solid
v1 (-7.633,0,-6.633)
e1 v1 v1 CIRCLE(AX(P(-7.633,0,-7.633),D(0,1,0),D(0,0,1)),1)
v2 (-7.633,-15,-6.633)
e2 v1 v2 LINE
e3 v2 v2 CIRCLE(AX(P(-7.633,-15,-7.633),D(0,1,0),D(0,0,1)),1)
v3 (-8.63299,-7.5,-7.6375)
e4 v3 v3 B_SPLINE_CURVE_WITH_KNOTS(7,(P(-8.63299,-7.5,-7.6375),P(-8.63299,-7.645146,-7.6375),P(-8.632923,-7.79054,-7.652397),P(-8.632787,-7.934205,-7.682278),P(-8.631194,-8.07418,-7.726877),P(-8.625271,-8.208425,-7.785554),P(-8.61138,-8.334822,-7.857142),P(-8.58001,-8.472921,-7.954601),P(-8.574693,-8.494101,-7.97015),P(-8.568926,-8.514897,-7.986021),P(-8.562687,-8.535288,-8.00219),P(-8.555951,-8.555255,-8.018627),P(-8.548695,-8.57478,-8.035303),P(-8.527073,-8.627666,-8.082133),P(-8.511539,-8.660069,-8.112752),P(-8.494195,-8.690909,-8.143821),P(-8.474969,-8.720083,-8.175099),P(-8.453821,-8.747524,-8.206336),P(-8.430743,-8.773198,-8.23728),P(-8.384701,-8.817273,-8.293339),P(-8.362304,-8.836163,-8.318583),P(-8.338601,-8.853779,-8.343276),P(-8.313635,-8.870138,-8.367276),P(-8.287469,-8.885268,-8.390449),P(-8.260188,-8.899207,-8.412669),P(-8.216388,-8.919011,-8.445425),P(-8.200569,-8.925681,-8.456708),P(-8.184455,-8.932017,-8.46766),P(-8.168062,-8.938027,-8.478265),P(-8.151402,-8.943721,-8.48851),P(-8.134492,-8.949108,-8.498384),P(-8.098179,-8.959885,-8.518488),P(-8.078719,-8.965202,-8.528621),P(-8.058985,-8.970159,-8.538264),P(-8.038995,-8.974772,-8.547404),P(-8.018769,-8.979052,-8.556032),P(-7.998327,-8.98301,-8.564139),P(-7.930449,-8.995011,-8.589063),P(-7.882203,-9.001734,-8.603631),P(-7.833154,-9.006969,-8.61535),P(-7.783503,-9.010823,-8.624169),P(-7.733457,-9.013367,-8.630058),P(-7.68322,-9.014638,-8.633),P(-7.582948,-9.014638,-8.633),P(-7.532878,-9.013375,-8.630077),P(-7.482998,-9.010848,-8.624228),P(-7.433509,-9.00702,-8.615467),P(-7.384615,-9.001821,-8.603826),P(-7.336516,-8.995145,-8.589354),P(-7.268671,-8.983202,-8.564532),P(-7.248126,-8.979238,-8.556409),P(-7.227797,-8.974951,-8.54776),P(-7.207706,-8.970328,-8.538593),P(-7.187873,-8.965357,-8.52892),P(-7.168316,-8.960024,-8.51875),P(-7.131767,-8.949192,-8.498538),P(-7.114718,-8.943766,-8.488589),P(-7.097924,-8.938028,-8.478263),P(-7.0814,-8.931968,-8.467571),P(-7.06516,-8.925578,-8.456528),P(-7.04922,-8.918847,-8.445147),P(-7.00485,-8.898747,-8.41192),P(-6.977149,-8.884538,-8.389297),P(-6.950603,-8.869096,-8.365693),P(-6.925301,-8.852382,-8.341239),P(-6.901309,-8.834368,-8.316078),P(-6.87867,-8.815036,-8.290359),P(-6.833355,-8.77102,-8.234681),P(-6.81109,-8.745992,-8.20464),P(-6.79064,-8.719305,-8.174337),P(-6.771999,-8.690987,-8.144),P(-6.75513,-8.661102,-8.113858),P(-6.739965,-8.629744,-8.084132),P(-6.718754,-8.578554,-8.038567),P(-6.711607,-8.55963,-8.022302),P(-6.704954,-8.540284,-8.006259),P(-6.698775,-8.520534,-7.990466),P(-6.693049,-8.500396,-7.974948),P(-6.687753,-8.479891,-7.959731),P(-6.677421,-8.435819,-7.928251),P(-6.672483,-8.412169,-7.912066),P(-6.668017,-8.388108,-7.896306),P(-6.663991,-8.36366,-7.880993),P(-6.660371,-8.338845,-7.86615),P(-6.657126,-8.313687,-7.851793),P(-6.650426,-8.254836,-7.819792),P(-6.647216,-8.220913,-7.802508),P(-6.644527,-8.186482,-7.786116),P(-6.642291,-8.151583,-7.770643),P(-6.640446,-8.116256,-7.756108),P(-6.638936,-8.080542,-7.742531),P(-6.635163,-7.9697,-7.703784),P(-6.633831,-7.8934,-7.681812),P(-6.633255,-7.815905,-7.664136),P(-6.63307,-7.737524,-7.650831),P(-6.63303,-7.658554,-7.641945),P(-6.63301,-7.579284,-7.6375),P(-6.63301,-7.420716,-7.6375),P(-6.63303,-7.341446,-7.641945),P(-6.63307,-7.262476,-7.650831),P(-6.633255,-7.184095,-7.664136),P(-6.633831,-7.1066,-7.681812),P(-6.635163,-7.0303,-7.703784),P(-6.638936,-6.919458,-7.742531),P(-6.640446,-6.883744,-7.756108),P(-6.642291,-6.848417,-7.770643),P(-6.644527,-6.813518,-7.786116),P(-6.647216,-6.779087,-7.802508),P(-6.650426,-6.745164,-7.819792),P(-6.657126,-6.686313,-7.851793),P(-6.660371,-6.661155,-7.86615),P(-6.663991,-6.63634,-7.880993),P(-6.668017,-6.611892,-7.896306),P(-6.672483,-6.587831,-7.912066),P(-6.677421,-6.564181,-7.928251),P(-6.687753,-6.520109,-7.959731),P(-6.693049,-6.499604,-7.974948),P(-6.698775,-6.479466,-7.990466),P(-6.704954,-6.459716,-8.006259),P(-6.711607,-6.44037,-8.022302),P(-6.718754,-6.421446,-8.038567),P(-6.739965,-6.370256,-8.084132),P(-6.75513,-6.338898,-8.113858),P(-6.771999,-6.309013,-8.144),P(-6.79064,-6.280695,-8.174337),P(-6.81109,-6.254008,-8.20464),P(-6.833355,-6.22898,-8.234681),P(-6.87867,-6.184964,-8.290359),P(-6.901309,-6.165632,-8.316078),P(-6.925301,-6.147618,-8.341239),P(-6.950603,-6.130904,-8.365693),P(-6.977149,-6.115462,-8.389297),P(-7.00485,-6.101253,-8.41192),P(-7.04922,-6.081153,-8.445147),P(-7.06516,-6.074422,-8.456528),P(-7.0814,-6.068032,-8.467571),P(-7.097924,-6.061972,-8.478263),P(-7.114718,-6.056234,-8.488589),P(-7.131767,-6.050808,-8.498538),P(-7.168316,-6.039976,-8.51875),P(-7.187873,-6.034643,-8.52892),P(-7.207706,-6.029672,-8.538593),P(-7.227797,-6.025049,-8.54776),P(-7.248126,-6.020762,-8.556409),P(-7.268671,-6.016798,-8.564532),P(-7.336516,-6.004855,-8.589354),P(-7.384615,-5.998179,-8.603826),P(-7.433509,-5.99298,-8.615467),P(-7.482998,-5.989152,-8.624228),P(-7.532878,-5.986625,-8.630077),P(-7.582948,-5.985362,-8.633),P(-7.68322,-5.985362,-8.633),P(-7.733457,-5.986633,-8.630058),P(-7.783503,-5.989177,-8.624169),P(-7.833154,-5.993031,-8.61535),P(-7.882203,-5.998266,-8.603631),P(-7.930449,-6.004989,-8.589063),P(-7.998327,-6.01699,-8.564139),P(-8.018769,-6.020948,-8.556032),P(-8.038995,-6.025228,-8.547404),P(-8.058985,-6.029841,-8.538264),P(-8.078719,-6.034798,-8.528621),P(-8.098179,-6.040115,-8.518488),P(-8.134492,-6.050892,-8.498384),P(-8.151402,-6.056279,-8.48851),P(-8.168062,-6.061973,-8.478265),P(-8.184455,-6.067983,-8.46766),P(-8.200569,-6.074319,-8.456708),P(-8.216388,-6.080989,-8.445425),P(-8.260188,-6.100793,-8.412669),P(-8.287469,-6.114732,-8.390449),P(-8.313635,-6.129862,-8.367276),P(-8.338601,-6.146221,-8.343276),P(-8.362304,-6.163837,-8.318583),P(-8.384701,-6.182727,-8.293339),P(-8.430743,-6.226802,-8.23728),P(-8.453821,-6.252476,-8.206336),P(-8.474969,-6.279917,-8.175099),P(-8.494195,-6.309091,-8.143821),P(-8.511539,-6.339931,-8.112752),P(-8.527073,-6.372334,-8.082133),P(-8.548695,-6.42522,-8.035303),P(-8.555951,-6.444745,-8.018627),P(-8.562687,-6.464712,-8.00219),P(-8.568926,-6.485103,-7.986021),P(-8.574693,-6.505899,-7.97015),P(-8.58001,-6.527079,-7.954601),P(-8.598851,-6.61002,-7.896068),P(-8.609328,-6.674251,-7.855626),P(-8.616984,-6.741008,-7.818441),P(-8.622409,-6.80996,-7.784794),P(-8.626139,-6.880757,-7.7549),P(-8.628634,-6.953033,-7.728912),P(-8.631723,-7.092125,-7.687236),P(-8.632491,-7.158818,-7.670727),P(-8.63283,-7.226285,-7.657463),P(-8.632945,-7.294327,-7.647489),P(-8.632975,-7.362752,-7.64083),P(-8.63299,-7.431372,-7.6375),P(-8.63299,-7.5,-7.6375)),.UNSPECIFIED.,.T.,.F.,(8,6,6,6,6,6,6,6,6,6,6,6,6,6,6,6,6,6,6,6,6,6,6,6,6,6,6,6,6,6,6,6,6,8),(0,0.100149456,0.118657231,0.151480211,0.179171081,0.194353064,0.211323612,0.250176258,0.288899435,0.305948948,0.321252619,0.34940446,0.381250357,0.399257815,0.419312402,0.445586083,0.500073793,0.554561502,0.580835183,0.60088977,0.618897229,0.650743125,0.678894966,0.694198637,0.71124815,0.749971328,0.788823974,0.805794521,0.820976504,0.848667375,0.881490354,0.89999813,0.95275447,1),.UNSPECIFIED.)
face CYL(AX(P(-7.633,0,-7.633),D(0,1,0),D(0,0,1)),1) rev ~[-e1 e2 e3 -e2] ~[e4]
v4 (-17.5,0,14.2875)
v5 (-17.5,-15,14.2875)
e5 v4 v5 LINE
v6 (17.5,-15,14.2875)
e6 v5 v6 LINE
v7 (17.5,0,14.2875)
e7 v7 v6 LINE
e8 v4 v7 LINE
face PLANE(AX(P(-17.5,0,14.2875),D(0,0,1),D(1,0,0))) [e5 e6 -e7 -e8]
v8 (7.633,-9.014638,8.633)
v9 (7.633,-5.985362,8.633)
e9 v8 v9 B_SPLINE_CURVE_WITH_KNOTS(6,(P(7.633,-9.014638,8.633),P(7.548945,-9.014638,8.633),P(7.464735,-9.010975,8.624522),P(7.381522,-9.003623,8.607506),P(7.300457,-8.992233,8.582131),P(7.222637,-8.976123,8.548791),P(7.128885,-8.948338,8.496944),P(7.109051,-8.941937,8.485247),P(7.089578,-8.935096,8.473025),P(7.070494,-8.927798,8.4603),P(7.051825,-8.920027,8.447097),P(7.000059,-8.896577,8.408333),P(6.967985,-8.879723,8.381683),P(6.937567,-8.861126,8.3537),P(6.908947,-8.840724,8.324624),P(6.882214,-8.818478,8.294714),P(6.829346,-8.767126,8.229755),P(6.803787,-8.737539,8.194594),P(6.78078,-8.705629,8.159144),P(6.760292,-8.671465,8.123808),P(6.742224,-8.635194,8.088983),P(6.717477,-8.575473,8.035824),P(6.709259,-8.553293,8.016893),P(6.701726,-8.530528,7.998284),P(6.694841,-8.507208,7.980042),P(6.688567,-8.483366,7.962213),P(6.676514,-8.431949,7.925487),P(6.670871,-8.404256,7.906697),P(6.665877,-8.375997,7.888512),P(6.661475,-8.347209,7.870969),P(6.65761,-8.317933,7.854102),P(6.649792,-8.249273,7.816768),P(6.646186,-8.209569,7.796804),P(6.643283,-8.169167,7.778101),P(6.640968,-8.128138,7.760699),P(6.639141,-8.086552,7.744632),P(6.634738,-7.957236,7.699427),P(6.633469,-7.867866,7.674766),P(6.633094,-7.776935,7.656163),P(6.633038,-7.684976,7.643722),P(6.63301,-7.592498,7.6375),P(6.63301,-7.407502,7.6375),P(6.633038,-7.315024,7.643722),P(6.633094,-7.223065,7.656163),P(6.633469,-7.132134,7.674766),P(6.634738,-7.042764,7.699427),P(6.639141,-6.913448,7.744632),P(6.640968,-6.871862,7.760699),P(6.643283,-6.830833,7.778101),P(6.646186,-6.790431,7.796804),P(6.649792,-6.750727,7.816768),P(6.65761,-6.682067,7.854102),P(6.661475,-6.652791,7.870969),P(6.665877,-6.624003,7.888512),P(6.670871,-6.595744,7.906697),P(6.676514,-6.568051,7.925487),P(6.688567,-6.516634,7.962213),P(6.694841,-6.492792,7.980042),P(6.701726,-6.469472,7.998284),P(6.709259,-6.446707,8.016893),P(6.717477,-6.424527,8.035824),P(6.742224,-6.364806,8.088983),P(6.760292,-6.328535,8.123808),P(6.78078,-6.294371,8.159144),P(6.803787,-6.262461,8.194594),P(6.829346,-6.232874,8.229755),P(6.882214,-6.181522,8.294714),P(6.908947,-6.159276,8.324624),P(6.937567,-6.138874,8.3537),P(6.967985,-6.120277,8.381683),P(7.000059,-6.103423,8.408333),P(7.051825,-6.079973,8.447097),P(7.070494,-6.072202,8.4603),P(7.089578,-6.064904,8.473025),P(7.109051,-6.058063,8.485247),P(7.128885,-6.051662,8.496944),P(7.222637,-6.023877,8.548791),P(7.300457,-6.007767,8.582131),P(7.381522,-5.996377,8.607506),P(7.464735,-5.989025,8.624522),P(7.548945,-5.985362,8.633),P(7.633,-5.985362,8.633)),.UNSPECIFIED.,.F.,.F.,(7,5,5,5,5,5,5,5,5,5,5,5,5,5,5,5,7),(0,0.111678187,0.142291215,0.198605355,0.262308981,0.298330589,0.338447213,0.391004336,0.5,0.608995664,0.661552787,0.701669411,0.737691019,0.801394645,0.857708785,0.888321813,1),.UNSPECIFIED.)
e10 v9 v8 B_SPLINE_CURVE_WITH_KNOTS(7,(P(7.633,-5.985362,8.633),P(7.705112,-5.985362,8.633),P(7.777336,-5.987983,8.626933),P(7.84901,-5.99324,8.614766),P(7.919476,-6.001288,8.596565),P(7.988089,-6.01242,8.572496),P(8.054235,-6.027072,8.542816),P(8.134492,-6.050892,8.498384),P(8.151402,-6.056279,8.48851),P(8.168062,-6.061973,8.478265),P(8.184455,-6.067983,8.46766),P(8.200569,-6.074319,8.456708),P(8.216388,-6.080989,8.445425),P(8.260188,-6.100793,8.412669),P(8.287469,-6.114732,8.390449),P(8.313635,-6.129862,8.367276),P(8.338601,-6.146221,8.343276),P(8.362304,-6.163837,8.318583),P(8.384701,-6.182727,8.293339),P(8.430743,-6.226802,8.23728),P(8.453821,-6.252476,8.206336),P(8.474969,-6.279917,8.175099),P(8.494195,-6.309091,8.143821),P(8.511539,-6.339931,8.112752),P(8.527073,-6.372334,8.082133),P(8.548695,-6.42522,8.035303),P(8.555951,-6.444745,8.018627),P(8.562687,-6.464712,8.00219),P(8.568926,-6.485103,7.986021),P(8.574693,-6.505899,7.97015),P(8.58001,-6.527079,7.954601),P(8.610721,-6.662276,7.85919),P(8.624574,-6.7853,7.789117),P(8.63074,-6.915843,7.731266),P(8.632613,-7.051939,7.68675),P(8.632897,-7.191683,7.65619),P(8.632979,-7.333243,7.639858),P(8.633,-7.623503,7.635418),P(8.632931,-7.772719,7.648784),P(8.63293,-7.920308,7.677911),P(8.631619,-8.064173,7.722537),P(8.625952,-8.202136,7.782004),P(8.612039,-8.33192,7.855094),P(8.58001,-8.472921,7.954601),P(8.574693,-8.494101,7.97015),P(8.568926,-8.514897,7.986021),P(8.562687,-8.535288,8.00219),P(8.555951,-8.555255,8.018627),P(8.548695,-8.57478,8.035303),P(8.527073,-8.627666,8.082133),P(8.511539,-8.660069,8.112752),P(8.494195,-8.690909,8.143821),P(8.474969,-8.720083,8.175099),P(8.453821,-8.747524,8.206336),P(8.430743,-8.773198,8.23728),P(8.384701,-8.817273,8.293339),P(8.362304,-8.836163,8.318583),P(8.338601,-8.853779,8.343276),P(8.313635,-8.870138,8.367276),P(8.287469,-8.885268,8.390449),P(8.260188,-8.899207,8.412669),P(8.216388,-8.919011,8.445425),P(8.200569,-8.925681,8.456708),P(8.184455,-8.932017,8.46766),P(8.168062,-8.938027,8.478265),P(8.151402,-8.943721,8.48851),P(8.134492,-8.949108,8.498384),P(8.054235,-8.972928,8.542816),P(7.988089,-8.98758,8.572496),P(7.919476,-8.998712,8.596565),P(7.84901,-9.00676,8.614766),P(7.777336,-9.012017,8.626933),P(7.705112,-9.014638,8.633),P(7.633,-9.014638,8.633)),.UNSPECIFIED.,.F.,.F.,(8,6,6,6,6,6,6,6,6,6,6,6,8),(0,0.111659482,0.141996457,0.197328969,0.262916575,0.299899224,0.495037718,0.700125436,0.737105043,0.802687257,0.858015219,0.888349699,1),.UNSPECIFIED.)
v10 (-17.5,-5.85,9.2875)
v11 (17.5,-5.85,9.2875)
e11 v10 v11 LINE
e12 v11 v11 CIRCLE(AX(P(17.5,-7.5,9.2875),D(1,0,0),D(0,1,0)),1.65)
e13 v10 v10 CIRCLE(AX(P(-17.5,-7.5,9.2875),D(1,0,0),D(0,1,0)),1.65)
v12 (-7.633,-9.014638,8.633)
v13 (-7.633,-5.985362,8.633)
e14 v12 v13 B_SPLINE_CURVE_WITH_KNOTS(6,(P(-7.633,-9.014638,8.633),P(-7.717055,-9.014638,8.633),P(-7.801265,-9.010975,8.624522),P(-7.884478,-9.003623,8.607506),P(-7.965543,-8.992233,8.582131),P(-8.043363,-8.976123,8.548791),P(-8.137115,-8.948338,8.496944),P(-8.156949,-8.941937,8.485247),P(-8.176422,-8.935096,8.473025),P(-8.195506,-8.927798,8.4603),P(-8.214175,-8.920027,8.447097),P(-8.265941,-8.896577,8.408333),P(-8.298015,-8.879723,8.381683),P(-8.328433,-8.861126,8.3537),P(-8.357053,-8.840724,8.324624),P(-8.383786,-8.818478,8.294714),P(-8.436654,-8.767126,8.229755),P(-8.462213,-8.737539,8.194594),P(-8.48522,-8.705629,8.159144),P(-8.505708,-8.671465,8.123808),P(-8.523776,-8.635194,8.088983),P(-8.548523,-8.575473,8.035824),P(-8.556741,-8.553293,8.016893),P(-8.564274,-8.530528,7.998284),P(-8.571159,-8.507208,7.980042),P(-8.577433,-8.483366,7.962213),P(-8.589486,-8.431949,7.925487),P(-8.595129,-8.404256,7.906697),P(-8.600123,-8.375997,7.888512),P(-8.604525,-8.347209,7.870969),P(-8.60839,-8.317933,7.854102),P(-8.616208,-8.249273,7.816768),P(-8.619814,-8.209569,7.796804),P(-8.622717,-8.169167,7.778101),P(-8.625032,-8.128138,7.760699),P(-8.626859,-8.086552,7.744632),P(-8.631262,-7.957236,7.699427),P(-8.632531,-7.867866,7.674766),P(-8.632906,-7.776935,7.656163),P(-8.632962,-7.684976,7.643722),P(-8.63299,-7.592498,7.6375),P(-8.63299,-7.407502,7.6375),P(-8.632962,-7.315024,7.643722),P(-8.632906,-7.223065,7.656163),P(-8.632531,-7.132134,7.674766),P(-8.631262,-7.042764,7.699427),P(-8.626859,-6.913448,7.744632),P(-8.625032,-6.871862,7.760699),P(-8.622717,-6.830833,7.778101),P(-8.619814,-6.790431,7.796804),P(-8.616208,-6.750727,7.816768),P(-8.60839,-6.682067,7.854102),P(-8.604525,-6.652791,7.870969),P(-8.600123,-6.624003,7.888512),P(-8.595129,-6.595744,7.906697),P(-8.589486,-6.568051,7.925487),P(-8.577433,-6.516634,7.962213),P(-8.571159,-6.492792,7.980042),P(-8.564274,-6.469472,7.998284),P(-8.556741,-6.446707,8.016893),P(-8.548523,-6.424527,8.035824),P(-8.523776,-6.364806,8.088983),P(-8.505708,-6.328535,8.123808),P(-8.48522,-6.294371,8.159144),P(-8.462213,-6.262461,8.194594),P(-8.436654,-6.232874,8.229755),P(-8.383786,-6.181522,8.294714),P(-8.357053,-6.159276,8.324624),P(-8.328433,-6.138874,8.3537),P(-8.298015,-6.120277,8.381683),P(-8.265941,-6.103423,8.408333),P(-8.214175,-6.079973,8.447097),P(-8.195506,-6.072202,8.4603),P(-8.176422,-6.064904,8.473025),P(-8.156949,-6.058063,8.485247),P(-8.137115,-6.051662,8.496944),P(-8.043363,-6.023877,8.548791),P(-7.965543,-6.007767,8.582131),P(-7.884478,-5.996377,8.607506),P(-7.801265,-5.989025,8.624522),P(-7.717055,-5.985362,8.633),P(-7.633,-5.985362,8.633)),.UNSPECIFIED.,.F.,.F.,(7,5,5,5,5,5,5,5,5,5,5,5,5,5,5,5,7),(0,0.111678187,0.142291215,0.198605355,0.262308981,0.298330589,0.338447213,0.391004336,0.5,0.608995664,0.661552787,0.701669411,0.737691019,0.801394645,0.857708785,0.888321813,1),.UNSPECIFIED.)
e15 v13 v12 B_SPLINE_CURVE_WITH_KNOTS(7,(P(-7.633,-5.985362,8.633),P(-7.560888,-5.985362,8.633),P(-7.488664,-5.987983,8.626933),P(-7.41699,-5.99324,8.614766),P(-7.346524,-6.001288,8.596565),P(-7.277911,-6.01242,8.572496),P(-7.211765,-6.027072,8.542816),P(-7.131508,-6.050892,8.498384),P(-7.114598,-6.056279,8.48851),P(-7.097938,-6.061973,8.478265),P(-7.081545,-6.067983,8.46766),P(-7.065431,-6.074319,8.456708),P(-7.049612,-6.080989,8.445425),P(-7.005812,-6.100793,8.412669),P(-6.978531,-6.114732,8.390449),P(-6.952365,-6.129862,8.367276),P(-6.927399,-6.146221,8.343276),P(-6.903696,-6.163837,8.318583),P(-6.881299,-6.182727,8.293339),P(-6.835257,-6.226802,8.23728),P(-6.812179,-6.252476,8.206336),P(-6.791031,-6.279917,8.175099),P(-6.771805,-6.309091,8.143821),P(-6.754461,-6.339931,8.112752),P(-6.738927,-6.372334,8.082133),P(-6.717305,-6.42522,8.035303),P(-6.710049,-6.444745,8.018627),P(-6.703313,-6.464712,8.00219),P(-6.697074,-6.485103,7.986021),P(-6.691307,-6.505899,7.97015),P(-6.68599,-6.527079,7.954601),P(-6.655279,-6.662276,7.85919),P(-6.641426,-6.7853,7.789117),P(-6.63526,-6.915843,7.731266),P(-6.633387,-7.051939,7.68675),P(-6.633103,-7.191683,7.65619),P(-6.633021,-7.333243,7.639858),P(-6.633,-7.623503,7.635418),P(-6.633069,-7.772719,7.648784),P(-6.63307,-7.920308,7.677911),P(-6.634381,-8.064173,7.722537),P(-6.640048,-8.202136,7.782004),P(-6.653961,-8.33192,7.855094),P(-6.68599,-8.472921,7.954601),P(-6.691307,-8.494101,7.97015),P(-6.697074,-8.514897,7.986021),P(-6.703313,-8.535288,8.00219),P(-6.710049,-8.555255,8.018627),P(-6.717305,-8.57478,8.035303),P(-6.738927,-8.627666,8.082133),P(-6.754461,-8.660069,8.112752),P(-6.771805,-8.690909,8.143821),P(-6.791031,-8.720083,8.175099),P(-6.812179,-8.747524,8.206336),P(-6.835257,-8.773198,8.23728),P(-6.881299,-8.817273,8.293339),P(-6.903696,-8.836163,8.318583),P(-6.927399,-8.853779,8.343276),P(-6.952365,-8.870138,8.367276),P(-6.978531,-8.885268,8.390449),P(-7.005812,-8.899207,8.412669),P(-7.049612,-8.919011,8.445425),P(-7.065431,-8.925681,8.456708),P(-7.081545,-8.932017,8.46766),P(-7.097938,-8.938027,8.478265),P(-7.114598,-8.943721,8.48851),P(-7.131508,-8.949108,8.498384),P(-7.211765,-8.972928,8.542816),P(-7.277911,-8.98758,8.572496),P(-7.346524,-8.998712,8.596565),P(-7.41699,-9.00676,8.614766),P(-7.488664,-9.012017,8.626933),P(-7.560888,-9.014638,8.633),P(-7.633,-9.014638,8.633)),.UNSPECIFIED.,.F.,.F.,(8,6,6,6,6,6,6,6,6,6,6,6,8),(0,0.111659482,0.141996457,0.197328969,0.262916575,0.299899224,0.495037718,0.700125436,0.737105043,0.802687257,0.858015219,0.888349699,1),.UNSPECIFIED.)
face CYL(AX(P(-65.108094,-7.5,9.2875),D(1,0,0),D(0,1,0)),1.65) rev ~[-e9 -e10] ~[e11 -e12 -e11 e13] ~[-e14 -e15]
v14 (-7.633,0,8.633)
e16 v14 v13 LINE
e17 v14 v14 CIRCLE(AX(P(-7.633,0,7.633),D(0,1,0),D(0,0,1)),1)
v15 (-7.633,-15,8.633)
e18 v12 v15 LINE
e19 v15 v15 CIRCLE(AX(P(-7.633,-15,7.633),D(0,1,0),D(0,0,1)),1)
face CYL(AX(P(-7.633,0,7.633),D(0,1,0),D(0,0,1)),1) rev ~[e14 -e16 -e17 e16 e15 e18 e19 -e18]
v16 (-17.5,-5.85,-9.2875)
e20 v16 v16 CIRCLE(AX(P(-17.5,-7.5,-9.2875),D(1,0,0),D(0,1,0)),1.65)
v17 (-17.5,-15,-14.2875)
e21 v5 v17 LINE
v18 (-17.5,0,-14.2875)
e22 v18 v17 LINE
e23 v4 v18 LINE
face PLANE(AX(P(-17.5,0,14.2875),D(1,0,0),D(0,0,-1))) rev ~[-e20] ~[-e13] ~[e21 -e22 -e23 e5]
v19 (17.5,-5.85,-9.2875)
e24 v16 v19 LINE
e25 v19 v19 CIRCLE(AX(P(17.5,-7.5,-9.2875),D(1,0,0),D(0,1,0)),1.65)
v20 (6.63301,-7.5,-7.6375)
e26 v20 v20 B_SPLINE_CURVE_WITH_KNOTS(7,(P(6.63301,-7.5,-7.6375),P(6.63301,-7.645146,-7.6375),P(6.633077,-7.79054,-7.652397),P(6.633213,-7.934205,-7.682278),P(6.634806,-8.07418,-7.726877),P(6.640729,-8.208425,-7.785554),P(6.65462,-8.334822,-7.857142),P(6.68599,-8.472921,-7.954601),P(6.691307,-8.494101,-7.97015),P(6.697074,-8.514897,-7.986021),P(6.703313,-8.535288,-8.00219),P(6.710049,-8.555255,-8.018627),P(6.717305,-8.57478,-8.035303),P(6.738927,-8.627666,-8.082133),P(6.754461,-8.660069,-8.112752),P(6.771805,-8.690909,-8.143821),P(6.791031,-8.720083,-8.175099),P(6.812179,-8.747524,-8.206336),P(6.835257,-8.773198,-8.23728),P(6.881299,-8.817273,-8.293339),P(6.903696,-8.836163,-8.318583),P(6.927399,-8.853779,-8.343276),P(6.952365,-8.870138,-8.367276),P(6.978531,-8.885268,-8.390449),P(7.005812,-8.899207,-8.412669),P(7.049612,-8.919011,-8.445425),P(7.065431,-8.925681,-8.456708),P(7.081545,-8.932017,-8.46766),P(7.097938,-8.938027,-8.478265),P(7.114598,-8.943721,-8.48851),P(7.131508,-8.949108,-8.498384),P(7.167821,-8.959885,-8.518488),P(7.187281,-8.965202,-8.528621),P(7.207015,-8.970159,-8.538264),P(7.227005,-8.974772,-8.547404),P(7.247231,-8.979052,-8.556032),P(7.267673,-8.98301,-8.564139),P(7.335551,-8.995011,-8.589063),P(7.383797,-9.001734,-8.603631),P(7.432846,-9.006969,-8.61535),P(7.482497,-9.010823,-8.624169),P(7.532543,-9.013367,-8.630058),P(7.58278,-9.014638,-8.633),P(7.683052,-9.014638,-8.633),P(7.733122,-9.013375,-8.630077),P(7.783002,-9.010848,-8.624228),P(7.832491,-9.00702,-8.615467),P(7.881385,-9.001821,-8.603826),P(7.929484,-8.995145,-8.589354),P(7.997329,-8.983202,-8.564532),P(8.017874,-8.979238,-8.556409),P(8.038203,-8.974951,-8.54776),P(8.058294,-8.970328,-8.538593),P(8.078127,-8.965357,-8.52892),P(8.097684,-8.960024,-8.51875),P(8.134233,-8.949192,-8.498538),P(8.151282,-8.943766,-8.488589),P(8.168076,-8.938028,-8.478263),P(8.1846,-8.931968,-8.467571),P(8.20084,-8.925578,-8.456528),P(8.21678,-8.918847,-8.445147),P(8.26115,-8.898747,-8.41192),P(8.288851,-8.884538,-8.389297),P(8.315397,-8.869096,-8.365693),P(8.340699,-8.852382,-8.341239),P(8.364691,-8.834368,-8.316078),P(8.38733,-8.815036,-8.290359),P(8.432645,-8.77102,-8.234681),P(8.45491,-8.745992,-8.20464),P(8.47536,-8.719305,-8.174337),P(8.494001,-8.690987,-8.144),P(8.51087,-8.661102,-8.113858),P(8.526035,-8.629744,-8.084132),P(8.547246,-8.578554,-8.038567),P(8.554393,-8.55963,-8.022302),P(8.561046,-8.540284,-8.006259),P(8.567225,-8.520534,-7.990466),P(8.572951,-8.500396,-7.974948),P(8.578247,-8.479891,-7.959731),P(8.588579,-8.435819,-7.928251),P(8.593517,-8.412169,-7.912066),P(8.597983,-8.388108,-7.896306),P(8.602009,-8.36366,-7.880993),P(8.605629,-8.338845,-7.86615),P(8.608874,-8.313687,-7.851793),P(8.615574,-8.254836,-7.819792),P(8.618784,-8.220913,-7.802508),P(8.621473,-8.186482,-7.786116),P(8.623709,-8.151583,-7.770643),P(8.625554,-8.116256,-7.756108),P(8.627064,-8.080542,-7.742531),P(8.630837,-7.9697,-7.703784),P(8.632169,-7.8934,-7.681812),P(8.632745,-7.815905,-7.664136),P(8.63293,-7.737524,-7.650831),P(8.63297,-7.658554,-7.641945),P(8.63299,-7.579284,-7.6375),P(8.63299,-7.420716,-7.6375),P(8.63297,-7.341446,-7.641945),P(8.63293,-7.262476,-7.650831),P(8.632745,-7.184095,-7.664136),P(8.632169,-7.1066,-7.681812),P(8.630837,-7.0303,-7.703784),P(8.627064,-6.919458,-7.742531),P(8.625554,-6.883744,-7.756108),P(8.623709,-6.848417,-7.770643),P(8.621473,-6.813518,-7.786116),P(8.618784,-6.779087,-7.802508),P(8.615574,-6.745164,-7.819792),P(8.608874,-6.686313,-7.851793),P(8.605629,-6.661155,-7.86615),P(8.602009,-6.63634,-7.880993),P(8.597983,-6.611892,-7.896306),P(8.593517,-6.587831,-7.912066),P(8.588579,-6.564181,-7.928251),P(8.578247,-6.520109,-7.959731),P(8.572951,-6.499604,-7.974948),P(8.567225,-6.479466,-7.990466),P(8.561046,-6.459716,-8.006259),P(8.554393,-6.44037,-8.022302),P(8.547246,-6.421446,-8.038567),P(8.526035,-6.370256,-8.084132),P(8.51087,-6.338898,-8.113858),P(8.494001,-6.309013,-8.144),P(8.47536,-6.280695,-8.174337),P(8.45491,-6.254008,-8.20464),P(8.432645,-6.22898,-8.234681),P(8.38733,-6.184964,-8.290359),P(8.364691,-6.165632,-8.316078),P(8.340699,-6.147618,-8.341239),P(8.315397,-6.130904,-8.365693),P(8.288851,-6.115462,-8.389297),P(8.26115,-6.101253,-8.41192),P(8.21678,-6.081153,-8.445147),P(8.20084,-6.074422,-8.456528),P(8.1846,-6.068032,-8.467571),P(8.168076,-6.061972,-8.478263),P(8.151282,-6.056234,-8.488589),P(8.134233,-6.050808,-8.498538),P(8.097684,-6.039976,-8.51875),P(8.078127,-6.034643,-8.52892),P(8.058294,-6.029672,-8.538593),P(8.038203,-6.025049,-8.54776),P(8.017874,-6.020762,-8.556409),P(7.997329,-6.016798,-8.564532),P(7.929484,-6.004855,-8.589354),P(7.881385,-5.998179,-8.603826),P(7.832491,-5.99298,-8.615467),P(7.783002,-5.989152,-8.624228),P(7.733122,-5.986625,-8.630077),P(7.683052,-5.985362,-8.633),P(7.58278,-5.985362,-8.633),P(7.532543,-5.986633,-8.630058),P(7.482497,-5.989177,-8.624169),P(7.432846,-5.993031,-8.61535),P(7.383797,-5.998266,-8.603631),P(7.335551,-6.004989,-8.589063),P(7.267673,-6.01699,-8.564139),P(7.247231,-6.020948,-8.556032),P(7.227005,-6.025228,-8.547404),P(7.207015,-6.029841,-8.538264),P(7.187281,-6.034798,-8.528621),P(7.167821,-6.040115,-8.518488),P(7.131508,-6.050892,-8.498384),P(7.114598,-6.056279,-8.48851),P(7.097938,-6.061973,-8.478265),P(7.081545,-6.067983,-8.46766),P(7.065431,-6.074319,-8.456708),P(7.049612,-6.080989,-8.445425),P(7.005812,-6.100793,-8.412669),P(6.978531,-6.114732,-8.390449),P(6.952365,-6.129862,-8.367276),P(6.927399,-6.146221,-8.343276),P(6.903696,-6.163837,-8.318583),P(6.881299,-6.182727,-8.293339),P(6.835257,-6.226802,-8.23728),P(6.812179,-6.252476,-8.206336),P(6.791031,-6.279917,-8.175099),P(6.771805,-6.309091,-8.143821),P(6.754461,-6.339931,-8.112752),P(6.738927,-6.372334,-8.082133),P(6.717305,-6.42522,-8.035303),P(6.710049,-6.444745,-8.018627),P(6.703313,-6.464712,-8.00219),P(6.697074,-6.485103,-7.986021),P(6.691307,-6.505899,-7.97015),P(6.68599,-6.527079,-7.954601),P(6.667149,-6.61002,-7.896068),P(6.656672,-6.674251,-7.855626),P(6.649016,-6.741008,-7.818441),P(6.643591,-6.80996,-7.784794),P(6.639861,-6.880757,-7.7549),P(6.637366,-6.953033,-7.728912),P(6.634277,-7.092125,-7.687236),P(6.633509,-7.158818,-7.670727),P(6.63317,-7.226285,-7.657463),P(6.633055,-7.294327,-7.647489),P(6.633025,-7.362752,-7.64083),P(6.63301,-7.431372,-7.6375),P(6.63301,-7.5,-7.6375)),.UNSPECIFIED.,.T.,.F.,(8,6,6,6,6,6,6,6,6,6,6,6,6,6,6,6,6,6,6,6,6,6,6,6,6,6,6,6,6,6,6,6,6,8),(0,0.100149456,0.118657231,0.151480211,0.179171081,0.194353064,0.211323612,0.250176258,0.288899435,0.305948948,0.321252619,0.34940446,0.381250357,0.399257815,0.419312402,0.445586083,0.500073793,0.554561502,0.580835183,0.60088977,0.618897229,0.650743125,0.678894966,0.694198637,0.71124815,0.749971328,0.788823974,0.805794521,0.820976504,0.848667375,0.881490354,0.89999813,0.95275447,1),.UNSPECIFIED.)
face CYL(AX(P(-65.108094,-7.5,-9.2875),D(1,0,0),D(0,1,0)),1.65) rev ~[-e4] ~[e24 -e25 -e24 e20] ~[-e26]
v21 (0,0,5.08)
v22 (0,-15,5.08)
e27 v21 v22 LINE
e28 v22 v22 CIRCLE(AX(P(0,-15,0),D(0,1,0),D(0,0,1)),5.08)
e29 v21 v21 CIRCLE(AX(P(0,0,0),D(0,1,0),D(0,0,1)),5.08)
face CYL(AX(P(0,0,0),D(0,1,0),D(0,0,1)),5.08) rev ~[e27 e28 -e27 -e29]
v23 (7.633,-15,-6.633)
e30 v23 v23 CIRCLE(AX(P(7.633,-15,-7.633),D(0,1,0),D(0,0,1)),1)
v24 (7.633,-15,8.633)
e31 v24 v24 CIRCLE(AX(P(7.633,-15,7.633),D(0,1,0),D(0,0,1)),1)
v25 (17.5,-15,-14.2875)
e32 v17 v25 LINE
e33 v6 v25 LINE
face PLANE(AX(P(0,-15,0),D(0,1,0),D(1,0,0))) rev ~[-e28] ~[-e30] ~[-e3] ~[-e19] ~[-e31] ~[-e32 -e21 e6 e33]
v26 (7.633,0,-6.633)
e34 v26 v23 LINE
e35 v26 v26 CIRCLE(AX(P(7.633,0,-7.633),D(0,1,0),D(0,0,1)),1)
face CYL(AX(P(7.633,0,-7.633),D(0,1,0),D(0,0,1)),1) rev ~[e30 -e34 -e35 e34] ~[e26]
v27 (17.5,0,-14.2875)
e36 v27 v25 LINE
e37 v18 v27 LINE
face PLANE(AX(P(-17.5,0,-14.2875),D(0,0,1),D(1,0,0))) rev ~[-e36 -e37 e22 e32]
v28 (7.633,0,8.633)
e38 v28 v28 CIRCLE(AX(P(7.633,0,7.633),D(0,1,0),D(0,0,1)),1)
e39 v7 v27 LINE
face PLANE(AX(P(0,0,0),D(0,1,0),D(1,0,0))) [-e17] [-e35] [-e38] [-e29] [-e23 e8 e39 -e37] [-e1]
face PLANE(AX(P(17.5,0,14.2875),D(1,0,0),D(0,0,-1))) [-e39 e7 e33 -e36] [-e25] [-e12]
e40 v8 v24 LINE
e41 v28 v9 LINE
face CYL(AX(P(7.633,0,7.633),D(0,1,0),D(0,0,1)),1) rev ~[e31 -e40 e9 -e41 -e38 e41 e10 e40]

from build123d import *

# Parameters (mm, degrees)
SKETCH1_W             = 35
SKETCH1_H             = 28.575
BOSS_EXTRUDE1_DEPTH   = 15
SKETCH2_R             = 5.08
CUT_EXTRUDE2_DEPTH    = 30
SKETCH4_R             = 1
CUT_EXTRUDE3_DEPTH    = 15
M4X0_7_TAPPED_HOLE1_D = 3.3


with BuildPart() as part:
    # Sketch1 → Boss-Extrude1 (new body)
    with BuildSketch(Plane(origin=(0, 0, 0), x_dir=(1, 0, 0), z_dir=(0, 1, 0))):
        Rectangle(SKETCH1_W, SKETCH1_H)
    extrude(amount=-BOSS_EXTRUDE1_DEPTH)

    # Sketch2 → Cut-Extrude2 (cut)
    with BuildSketch(Plane(origin=(0, 0, 0), x_dir=(1, 0, 0), z_dir=(0, 1, 0))):
        Circle(SKETCH2_R)
    extrude(amount=-CUT_EXTRUDE2_DEPTH, mode=Mode.SUBTRACT)

    # Sketch4 → Cut-Extrude3 (cut)
    with BuildSketch(Plane(origin=(0, 0, 0), x_dir=(1, 0, 0), z_dir=(0, 1, 0))):
        with Locations((7.633, 7.633)):
            Circle(SKETCH4_R)
        with Locations((-7.633, 7.633)):
            Circle(SKETCH4_R)
        with Locations((-7.633, -7.633)):
            Circle(SKETCH4_R)
        with Locations((7.633, -7.633)):
            Circle(SKETCH4_R)
    extrude(amount=-CUT_EXTRUDE3_DEPTH, mode=Mode.SUBTRACT)

    # M4x0.7 Tapped Hole1 (through all)
    with Locations(Plane(origin=(-17.5, 0, 0), x_dir=(0, -1, 0), z_dir=(-1, 0, 0))):
        with Locations((7.5, -9.2875), (7.5, 9.2875)):
            Hole(M4X0_7_TAPPED_HOLE1_D / 2)


solid = part.part
